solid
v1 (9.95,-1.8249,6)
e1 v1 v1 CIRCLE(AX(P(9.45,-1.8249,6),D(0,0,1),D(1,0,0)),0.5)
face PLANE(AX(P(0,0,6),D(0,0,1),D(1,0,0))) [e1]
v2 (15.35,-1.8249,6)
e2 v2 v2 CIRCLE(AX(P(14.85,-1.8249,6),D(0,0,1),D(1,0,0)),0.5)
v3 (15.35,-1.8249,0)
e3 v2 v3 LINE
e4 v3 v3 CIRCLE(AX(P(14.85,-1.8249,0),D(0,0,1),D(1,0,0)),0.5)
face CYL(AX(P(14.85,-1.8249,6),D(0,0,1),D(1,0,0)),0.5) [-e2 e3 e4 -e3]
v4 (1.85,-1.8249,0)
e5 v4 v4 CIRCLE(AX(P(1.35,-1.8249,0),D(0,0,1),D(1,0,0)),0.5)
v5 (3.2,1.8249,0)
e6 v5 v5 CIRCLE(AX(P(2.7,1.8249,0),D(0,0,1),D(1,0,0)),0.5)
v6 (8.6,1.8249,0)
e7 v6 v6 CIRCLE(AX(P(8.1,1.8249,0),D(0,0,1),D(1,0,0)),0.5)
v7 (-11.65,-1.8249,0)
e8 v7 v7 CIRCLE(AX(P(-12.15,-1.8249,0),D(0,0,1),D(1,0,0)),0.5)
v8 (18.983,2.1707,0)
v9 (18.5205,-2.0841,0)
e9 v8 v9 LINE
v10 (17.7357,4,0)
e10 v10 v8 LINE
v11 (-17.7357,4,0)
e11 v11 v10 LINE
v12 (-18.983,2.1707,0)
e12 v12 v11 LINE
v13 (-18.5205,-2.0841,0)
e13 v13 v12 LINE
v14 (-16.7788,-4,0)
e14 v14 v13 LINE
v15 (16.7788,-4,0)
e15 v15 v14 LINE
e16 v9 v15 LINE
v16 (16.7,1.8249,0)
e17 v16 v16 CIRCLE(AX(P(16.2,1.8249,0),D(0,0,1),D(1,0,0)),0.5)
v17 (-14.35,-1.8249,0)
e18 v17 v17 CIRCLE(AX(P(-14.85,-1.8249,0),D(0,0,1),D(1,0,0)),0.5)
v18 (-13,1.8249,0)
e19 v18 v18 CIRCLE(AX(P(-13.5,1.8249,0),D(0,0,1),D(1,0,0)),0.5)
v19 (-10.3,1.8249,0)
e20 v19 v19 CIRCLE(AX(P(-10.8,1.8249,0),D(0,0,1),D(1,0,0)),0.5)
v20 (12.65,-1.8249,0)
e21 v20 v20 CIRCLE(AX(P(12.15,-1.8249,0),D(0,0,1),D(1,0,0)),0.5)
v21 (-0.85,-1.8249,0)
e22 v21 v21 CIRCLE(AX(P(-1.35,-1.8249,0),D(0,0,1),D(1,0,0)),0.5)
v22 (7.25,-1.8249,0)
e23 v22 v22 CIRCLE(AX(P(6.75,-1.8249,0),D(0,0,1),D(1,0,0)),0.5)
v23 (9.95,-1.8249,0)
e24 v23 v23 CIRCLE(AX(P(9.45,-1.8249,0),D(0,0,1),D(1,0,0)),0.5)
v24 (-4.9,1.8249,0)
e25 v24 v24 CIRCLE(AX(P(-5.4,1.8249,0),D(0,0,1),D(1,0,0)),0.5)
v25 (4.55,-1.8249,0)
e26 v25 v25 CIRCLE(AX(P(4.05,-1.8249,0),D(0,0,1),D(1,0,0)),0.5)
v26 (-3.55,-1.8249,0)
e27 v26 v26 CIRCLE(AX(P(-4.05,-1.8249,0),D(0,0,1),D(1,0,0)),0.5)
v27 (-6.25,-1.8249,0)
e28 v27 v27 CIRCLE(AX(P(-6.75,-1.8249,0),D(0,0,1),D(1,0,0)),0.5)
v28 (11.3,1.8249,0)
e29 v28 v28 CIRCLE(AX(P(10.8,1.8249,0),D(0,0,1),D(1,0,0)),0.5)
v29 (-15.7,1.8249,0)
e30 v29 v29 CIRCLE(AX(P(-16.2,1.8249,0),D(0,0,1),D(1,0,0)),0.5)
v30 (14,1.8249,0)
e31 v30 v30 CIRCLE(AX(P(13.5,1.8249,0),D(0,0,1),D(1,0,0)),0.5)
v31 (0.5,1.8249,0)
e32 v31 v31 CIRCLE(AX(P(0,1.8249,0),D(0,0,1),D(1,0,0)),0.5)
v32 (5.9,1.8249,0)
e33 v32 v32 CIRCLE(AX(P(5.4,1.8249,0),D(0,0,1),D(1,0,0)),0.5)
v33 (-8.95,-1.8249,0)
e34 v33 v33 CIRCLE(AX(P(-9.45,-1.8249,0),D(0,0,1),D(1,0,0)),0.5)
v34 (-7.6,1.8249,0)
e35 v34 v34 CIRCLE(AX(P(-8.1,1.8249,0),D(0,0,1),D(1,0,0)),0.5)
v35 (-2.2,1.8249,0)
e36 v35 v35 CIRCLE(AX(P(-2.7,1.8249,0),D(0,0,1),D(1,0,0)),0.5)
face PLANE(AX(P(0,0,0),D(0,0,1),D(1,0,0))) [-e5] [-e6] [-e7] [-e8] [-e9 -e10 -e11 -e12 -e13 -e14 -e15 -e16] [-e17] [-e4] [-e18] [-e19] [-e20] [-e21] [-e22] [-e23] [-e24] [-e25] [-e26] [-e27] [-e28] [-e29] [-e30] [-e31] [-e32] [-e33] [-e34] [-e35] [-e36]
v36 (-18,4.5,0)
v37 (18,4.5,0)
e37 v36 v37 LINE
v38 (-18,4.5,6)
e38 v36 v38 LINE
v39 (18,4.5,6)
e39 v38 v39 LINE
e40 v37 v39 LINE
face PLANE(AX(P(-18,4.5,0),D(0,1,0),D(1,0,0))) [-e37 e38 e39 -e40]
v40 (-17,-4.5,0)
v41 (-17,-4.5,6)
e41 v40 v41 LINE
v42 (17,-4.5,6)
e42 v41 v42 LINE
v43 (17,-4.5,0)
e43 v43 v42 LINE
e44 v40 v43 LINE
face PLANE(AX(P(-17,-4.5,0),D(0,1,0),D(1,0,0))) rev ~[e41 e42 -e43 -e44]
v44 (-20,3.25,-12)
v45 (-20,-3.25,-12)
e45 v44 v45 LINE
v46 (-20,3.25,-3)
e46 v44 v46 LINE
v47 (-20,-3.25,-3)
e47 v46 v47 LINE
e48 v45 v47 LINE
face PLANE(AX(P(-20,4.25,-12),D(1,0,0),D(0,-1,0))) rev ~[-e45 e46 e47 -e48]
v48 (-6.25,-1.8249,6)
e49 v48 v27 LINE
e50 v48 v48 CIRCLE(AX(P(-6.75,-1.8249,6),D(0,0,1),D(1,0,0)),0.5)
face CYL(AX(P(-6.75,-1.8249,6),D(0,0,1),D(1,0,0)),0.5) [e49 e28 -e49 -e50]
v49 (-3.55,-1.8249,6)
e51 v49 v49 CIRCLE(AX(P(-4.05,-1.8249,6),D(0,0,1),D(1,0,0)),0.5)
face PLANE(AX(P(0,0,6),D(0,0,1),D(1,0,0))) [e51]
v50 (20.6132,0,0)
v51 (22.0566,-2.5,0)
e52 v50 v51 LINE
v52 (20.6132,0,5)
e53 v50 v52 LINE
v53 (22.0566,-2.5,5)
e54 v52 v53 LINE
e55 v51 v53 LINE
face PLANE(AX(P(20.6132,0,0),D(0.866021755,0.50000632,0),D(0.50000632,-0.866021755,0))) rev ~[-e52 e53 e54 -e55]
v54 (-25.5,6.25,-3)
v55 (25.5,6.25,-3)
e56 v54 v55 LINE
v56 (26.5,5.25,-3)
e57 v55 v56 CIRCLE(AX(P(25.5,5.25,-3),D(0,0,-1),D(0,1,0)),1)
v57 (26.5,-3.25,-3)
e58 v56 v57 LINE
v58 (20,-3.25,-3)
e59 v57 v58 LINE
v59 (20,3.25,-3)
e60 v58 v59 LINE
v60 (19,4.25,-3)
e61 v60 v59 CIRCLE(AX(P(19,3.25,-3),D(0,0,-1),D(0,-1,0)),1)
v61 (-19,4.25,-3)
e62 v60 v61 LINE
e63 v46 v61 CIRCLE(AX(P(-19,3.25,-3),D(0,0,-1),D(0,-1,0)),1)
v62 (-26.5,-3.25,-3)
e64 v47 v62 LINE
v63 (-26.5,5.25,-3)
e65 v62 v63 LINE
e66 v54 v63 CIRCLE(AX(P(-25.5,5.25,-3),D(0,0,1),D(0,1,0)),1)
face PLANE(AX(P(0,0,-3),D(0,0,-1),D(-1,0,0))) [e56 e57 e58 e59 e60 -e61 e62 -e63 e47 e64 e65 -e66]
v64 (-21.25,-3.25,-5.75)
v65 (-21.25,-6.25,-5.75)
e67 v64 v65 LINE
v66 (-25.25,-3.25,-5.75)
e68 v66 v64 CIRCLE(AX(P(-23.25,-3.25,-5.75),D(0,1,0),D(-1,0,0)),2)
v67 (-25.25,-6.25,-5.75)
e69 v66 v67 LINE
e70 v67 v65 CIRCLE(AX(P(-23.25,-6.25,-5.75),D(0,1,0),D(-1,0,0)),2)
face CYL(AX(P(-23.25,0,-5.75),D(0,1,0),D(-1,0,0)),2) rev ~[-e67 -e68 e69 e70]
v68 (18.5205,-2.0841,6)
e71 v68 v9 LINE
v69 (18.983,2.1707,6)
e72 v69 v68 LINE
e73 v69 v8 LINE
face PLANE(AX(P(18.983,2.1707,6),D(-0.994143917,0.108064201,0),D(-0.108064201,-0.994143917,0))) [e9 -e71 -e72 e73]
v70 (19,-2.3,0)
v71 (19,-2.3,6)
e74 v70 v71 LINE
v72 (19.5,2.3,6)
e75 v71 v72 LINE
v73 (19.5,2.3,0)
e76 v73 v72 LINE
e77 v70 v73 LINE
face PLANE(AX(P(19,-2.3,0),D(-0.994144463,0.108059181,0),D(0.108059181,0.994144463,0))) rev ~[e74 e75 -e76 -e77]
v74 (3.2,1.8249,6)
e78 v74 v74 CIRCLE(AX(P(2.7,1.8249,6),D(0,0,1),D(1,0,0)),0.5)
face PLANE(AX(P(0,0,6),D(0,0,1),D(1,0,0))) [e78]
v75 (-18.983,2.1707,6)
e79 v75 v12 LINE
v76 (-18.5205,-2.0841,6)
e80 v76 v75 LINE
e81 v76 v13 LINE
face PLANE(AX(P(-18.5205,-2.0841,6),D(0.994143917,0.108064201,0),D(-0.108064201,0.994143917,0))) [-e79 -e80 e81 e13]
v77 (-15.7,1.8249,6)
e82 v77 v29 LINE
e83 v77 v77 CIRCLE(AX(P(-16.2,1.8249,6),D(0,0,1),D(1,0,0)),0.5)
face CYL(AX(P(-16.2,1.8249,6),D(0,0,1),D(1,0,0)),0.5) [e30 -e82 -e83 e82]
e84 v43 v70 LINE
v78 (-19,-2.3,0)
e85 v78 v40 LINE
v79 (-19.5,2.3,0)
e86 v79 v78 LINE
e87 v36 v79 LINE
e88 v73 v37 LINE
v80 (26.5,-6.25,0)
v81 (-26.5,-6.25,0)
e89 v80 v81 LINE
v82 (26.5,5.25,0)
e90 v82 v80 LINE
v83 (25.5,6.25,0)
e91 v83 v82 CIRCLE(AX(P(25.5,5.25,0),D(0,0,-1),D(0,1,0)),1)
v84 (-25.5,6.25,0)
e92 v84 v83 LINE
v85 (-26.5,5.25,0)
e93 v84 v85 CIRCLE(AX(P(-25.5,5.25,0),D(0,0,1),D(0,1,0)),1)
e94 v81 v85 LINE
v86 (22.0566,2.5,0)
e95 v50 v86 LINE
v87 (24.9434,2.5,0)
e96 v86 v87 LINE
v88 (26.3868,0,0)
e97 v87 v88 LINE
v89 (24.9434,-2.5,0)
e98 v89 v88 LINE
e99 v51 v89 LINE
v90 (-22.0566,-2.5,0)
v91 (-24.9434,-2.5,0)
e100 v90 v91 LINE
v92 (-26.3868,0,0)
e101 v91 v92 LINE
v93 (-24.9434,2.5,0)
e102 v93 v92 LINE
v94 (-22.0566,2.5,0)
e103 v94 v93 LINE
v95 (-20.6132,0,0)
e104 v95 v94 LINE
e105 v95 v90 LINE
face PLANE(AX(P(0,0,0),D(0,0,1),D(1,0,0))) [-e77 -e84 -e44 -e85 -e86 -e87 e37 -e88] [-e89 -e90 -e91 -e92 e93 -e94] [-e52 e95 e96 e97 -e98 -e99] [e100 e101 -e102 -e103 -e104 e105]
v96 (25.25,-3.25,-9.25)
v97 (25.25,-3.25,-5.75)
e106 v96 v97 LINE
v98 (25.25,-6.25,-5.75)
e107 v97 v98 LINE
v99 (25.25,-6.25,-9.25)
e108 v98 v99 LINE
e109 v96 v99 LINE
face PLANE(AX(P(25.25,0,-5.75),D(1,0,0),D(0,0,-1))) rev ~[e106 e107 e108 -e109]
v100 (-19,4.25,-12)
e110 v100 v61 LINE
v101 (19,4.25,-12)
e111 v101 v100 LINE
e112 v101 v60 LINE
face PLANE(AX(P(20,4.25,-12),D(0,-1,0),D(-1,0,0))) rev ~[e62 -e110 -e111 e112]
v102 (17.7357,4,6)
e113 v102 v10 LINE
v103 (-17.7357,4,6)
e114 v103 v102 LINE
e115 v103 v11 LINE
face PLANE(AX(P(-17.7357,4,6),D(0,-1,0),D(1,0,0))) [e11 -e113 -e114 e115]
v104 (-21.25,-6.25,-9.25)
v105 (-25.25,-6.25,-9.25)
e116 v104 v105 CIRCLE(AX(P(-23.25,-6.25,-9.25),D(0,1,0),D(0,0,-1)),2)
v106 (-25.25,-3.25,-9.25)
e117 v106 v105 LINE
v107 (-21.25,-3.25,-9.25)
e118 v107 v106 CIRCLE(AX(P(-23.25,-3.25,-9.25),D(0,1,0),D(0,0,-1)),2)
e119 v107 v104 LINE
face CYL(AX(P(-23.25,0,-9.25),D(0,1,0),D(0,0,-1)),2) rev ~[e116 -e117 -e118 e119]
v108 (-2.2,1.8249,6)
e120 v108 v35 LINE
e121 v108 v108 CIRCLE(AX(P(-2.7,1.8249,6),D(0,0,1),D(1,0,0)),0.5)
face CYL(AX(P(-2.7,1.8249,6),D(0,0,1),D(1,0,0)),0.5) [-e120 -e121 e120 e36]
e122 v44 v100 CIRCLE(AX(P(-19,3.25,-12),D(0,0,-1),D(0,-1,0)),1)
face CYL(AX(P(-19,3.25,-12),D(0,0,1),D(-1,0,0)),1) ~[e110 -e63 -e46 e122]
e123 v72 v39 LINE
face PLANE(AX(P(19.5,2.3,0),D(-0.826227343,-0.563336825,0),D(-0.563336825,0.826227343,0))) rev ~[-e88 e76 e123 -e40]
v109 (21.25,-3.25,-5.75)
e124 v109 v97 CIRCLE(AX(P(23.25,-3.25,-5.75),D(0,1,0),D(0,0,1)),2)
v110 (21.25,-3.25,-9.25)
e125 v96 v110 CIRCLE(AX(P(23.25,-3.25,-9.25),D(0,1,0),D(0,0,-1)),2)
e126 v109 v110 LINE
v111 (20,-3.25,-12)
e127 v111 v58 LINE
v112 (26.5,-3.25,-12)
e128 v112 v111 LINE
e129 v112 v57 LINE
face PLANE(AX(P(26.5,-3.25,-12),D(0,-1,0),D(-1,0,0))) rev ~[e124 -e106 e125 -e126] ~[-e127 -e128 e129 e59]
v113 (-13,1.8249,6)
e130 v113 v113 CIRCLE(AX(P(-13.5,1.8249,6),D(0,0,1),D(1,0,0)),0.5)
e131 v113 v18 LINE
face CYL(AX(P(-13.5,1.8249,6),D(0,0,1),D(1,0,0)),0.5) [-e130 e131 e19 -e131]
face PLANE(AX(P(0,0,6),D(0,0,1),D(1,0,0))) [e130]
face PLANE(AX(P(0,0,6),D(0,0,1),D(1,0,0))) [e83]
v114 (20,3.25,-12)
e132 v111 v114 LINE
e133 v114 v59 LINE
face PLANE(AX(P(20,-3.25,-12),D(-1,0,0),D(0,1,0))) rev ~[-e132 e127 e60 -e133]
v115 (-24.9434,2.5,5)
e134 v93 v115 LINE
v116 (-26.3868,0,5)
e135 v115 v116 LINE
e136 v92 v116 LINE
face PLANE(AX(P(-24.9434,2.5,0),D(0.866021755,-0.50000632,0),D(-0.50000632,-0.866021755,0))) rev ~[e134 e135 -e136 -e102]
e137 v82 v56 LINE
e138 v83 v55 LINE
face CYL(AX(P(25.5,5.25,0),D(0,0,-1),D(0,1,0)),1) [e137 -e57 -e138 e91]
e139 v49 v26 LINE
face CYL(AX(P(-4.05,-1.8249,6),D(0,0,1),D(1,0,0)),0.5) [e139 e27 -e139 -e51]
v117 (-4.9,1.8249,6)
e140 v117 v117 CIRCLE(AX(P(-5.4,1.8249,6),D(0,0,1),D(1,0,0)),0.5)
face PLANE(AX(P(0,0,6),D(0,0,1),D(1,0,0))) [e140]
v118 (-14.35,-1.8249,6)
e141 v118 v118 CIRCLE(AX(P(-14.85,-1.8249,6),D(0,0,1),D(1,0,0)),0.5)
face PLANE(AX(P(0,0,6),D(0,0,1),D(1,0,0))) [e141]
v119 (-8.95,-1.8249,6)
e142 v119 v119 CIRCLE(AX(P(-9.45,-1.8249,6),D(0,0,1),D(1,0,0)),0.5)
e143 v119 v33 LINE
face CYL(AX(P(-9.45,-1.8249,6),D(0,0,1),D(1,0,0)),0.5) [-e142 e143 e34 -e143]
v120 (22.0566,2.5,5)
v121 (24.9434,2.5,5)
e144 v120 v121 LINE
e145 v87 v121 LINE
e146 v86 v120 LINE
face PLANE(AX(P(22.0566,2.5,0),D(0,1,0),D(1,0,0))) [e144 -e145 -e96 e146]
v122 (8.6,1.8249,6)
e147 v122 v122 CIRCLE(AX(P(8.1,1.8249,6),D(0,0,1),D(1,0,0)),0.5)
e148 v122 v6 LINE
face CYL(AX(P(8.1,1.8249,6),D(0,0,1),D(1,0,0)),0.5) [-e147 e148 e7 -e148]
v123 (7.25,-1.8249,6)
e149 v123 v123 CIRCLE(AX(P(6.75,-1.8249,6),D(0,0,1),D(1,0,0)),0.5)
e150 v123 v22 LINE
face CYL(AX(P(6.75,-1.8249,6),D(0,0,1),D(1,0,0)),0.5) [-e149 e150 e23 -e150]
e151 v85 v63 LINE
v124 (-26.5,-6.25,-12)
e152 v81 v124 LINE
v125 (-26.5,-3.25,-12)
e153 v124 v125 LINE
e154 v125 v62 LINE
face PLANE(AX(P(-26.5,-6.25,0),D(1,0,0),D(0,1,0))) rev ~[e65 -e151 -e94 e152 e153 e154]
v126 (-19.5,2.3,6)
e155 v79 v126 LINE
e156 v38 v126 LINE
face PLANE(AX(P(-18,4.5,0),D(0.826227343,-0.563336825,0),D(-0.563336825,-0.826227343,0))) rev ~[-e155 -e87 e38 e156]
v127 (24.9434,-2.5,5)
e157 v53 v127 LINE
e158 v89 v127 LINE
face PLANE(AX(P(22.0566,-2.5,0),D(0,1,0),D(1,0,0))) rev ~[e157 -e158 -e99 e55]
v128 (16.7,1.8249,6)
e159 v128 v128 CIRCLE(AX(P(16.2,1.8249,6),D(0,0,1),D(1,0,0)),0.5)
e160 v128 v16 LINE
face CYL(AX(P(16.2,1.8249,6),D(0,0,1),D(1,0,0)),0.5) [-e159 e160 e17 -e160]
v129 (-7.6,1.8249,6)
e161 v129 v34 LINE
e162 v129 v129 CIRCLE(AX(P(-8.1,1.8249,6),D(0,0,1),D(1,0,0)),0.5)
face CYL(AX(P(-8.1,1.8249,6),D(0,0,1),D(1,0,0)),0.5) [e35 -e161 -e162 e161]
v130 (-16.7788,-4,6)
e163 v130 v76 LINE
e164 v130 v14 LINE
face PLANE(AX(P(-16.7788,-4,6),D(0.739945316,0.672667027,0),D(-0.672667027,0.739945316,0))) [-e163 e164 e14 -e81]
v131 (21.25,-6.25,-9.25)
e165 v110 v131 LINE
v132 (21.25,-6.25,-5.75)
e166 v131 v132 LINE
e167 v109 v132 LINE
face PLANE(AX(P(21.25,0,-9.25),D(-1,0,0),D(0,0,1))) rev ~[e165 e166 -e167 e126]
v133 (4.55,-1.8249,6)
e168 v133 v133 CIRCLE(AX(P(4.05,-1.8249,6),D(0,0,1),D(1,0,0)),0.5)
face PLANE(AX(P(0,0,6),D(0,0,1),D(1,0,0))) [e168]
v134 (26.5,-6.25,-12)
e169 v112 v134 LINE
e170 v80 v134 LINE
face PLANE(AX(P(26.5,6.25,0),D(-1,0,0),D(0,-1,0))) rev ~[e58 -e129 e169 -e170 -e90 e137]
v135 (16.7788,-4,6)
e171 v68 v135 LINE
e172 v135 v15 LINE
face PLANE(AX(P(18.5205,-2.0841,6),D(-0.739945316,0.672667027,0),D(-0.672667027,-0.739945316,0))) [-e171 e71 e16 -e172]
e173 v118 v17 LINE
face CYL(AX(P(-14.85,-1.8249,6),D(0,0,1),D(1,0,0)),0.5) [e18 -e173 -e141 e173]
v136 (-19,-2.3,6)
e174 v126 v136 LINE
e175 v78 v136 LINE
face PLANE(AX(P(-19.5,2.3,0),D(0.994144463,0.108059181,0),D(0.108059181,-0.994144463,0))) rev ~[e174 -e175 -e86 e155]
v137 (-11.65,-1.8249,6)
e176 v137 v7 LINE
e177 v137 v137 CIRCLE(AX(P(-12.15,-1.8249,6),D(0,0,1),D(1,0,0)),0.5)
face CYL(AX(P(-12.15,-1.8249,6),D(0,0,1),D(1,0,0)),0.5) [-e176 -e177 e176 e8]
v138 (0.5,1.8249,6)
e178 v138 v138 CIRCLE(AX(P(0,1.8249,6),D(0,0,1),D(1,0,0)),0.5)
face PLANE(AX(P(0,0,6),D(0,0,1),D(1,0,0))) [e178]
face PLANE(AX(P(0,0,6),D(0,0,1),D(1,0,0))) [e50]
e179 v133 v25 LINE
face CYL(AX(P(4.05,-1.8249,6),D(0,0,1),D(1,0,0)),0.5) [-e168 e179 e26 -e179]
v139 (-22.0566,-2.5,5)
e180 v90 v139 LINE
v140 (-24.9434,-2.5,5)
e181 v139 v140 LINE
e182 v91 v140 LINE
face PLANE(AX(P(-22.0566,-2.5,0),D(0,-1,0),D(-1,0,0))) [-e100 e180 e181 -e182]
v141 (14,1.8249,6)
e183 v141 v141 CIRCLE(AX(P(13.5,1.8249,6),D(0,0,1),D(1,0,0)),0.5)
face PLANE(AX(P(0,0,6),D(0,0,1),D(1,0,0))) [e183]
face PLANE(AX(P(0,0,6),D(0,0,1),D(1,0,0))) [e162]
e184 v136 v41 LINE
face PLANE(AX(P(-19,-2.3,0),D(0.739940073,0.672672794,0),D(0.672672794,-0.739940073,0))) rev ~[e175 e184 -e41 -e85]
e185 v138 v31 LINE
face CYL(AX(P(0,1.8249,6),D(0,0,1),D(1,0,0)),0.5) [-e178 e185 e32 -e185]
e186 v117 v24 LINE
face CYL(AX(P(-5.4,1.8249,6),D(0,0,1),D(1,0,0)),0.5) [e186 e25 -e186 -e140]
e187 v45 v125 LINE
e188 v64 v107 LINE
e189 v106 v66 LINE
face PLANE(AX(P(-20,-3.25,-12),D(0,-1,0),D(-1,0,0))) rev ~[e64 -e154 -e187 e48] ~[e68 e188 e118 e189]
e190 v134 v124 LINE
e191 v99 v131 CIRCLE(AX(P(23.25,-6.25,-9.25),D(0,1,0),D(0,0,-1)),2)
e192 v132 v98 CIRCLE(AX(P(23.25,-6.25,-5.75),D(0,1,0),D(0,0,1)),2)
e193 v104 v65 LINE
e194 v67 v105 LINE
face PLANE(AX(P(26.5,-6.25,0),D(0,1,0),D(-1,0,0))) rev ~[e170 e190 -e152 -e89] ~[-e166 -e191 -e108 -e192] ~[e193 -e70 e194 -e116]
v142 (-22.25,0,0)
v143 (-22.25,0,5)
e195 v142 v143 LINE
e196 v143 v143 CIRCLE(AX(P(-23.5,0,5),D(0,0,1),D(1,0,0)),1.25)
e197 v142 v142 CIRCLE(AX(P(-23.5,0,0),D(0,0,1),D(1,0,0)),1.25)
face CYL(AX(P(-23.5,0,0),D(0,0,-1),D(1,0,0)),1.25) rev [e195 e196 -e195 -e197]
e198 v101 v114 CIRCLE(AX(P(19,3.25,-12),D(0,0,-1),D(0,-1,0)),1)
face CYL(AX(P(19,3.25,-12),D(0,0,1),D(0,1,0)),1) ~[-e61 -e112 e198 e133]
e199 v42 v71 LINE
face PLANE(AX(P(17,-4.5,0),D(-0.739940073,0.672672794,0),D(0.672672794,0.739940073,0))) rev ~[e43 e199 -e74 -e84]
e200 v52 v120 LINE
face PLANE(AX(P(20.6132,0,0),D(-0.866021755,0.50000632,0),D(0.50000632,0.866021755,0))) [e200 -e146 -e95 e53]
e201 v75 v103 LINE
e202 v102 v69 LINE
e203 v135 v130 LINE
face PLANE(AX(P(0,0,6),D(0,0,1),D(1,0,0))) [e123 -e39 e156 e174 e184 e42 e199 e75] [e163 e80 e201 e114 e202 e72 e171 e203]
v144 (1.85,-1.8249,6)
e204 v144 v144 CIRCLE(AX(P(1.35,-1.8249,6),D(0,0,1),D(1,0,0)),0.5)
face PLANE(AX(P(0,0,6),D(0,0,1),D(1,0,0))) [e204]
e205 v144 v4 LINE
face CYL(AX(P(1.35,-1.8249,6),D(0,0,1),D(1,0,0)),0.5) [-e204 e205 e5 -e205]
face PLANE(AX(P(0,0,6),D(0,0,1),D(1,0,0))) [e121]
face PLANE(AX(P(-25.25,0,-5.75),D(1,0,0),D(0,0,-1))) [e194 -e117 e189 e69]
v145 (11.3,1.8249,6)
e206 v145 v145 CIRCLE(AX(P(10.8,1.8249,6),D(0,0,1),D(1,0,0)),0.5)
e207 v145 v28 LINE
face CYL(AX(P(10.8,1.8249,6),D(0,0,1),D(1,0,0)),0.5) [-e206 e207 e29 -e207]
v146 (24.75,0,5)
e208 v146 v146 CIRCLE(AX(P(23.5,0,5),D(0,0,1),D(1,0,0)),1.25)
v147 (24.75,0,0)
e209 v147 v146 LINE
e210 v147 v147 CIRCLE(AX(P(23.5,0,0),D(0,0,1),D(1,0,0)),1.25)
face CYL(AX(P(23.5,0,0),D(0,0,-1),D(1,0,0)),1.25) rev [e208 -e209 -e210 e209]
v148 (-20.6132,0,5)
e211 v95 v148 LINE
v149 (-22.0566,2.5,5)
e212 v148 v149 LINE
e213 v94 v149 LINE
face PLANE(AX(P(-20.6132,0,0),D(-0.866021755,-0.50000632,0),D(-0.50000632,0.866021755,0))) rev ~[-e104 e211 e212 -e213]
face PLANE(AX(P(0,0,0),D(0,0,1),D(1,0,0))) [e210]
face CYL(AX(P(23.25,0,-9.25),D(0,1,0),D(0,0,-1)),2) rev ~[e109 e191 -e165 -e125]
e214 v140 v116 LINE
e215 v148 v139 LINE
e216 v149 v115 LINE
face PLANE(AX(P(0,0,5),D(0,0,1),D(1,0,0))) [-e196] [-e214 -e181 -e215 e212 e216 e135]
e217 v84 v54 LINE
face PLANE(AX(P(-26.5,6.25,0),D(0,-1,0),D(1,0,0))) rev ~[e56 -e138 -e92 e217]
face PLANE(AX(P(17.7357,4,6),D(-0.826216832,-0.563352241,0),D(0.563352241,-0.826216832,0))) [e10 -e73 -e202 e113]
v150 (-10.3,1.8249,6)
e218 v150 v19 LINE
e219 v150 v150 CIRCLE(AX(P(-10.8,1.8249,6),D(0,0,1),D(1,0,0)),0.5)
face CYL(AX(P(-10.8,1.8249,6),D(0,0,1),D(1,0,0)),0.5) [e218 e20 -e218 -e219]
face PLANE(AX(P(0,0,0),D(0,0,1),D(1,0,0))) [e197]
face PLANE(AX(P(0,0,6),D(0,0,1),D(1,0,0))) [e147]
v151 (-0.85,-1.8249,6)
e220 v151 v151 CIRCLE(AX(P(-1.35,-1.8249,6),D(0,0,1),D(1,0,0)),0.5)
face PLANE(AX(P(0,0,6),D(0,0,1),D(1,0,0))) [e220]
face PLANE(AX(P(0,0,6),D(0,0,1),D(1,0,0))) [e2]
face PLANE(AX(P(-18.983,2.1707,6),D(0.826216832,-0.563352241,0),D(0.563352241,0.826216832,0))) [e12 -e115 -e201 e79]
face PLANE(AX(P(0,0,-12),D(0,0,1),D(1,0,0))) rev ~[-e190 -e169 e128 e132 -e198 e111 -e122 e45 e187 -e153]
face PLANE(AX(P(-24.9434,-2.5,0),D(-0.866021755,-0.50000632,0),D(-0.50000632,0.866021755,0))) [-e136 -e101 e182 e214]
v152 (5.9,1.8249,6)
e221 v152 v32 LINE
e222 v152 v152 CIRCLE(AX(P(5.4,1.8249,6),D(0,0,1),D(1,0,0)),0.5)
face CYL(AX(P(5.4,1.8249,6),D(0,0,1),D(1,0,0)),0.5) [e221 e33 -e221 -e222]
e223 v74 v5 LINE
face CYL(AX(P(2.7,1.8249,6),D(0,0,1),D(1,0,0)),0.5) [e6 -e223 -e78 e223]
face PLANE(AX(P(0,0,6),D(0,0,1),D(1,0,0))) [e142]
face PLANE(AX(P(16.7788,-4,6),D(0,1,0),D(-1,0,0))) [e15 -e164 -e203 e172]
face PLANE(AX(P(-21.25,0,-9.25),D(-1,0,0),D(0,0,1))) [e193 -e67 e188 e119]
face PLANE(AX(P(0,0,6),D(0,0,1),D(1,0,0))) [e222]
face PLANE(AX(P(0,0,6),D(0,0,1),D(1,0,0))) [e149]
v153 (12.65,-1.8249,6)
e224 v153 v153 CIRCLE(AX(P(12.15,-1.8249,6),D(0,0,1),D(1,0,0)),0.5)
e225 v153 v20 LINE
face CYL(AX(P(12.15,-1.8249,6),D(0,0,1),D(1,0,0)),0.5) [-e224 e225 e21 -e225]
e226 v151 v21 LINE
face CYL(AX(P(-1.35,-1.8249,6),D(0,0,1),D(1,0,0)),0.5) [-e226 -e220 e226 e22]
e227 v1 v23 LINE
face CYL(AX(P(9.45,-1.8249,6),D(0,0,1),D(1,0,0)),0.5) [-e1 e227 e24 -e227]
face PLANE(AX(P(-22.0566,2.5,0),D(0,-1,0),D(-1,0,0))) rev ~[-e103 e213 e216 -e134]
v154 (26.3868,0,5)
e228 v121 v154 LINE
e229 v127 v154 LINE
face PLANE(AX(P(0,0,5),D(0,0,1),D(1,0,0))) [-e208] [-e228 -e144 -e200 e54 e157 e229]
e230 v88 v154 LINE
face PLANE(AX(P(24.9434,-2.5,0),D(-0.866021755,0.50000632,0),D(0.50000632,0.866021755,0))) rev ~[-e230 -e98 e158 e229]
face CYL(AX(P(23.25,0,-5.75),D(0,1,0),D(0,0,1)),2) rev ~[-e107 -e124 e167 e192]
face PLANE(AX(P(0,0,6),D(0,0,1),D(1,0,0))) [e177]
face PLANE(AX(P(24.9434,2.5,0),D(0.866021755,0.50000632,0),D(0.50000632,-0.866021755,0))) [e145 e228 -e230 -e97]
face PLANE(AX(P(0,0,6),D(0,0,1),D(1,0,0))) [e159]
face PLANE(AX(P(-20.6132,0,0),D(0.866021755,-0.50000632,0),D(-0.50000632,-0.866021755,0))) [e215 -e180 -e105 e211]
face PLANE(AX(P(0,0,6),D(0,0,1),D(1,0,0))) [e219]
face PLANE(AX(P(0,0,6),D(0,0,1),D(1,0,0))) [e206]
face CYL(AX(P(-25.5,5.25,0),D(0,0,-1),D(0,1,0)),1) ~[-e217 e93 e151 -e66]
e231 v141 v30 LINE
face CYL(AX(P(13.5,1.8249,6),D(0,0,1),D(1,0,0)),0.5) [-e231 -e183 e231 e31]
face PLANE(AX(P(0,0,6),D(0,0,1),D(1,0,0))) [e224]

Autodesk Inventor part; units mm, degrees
ref_plane "YZ Plane" through (0, 0, 0) normal (1, 0, 0) x (0, 1, 0)
ref_plane "XZ Plane" through (0, 0, 0) normal (0, 1, 0) x (-1, 0, 0)
ref_plane "XY Plane" through (0, 0, 0) normal (0, 0, 1) x (1, 0, 0)
sketch "Sketch1" plane through (0, 0, 0) normal (0, 0, 1) x (1, 0, 0)
  line L0 (-26.5, 6.25) -> (26.5, 6.25)
  line L1 (26.5, 6.25) -> (26.5, -6.25)
  line L2 (26.5, -6.25) -> (-26.5, -6.25)
  line L3 (-26.5, -6.25) -> (-26.5, 6.25)
  line L4 (-26.5, 6.25) -> (26.5, -6.25) construction
  line L5 (26.5, 6.25) -> (-26.5, -6.25) construction
  line L6 (-26.5, 0) -> (26.5, 0) construction
  circle A0 centre (-23.5, 0) radius 1.25
  circle A1 centre (-23.5, 0) radius 2.8868 construction
  line L7 (-22.0566, -2.5) -> (-24.9434, 2.5) construction
  line L8 (-26.3868, 0) -> (-20.6132, 0) construction
  line L9 (-22.0566, 2.5) -> (-24.9434, -2.5) construction
  line L10 (-22.0566, 2.5) -> (-24.9434, 2.5)
  line L11 (-24.9434, 2.5) -> (-26.3868, 0)
  line L12 (-24.9434, -2.5) -> (-26.3868, 0)
  line L13 (-22.0566, -2.5) -> (-24.9434, -2.5)
  line L14 (-20.6132, 0) -> (-22.0566, 2.5)
  line L15 (-20.6132, 0) -> (-22.0566, -2.5)
  line L16 (0, 6.25) -> (0, -6.25) construction
  circle A2 centre (23.5, 0) radius 1.25
  line L17 (22.0566, 2.5) -> (24.9434, 2.5)
  line L18 (24.9434, 2.5) -> (26.3868, 0)
  line L19 (24.9434, -2.5) -> (26.3868, 0)
  line L20 (22.0566, -2.5) -> (24.9434, -2.5)
  line L21 (20.6132, 0) -> (22.0566, 2.5)
  line L22 (20.6132, 0) -> (22.0566, -2.5)
  line L23 (-18, 4.5) -> (18, 4.5)
  line L24 (-18, 4.5) -> (-19.5, 2.3)
  line L25 (-19.5, 2.3) -> (-19, -2.3)
  line L26 (-19, -2.3) -> (-17, -4.5)
  line L27 (-17, -4.5) -> (17, -4.5)
  line L28 (17, -4.5) -> (19, -2.3)
  line L29 (19, -2.3) -> (19.5, 2.3)
  line L30 (19.5, 2.3) -> (18, 4.5)
  point P0 (0, 0)
  point P1 (0, 4.5)
  point P2 (0, -4.5)
  dimension "d0" = 53
  dimension "d1" = 12.5
  dimension "d2" = 2.5
  dimension "d4" = 60
  dimension "d5" = 60
  dimension "d6" = 5
  dimension "d7" = 47
  dimension "d8" = 39
  dimension "d9" = 34
  dimension "d10" = 36
  dimension "d11" = 38
  dimension "d12" = 9
  dimension "d13" = 2.2
  dimension "d14" = 2.2
extrude "Extrusion1" add sketch "Sketch1" along normal blind 5 contours L14 L15 L13 L12 L11 L10 | L17 L18 L19 L20 L22 L21
extrude "Extrusion2" add sketch "Sketch1" along normal blind 6 contours L23 L30 L29 L28 L27 L26 L25 L24
extrude "Extrusion3" add sketch "Sketch1" against normal blind 12 contours L0 L1 L2 L3 | A0 | L14 L15 L13 L12 L11 L10 | A2 | L17 L18 L19 L20 L22 L21 | L23 L30 L29 L28 L27 L26 L25 L24
sketch "Sketch2" plane through (0, 0, -12) normal (0, 0, -1) x (-1, 0, 0)
  line L0 (26.5, 6.25) -> (-26.5, 6.25) projected
  line L1 (-26.5, 6.25) -> (-26.5, -6.25) projected
  line L2 (-26.5, -6.25) -> (26.5, -6.25) projected
  line L3 (26.5, -6.25) -> (26.5, 6.25) projected
  line L4 (-26.5, 6.25) -> (-26.5, -6.25) projected
  line L5 (-26.5, -3.25) -> (-20, -3.25)
  line L6 (-20, -3.25) -> (-20, 4.25)
  line L7 (-20, 4.25) -> (20, 4.25)
  line L8 (20, 4.25) -> (20, -3.25)
  line L9 (20, -3.25) -> (26.5, -3.25)
  line L10 (0, 6.25) -> (0, -6.25) construction
  line L11 (-26.5, -3.25) -> (-26.5, 6.25)
  line L12 (26.5, 6.25) -> (-26.5, 6.25) projected
  line L13 (-26.5, 6.25) -> (26.5, 6.25)
  line L14 (26.5, 6.25) -> (26.5, -3.25)
  point P0 (0, 0)
  dimension "d21" = 40
  dimension "d22" = 2
  dimension "d23" = 3
extrude "Extrusion4" cut sketch "Sketch2" against normal blind 9 contours L3 L9 L8 L7 L6 L5 L1 L0
sketch "Sketch3" plane through (0, 0, 0) normal (0, 1, 0) x (-1, 0, 0)
  line L0 (26.5, -3) -> (26.5, -12) projected
  line L1 (26.5, -12) -> (20, -12) projected
  line L2 (20, -12) -> (20, -3) projected
  arc A0 (23.25, -3.75) -> (21.25, -5.75) centre (23.25, -5.75) ccw
  arc A1 (23.25, -11.25) -> (25.25, -9.25) centre (23.25, -9.25) ccw
  line L3 (23.25, -3.75) -> (23.25, -11.25) construction
  line L4 (25.25, -5.75) -> (25.25, -9.25)
  line L5 (21.25, -9.25) -> (21.25, -5.75)
  line L6 (25.25, -7.5) -> (21.25, -7.5) construction
  line L7 (26.5, -3) -> (20, -3) projected
  arc A2 (21.25, -9.25) -> (23.25, -11.25) centre (23.25, -9.25) ccw
  arc A3 (25.25, -9.25) -> (21.25, -9.25) centre (23.25, -9.25) ccw construction
  arc A4 (25.25, -5.75) -> (23.25, -3.75) centre (23.25, -5.75) ccw
  arc A5 (21.25, -5.75) -> (25.25, -5.75) centre (23.25, -5.75) ccw construction
  line L8 (0, 0) -> (0, -12) construction
  arc A6 (-21.25, -5.75) -> (-23.25, -3.75) centre (-23.25, -5.75) ccw
  arc A7 (-25.25, -9.25) -> (-23.25, -11.25) centre (-23.25, -9.25) ccw
  line L9 (-25.25, -5.75) -> (-25.25, -9.25)
  line L10 (-21.25, -9.25) -> (-21.25, -5.75)
  arc A8 (-23.25, -11.25) -> (-21.25, -9.25) centre (-23.25, -9.25) ccw
  arc A9 (-23.25, -3.75) -> (-25.25, -5.75) centre (-23.25, -5.75) ccw
  dimension "d26" = 4
  dimension "d27" = 7.5
  dimension "d28" = 9
  dimension "d29" = 4.5
  dimension "d30" = 6.5
  dimension "d31" = 3.25
extrude "Extrusion5" cut sketch "Sketch3" against normal through all contours A4 L4 A1 A2 L5 A0 | L10 A8 A7 L9 A9 A6
sketch "Sketch4" plane through (0, 0, 6) normal (0, 0, 1) x (1, 0, 0)
  line L0 (-16.2, 1.8249) -> (16.2, 1.8249) construction
  circle A0 centre (-16.2, 1.8249) radius 0.5
  circle A1 centre (-13.5, 1.8249) radius 0.5
  circle A2 centre (-10.8, 1.8249) radius 0.5
  circle A3 centre (-8.1, 1.8249) radius 0.5
  circle A4 centre (-5.4, 1.8249) radius 0.5
  circle A5 centre (-2.7, 1.8249) radius 0.5
  circle A6 centre (0, 1.8249) radius 0.5
  circle A7 centre (2.7, 1.8249) radius 0.5
  circle A8 centre (5.4, 1.8249) radius 0.5
  circle A9 centre (8.1, 1.8249) radius 0.5
  circle A10 centre (10.8, 1.8249) radius 0.5
  circle A11 centre (13.5, 1.8249) radius 0.5
  circle A12 centre (16.2, 1.8249) radius 0.5
  line L1 (-14.85, -1.8249) -> (14.85, -1.8249) construction
  circle A13 centre (-14.85, -1.8249) radius 0.5
  circle A14 centre (-12.15, -1.8249) radius 0.5
  circle A15 centre (-9.45, -1.8249) radius 0.5
  circle A16 centre (-6.75, -1.8249) radius 0.5
  circle A17 centre (-4.05, -1.8249) radius 0.5
  circle A18 centre (-1.35, -1.8249) radius 0.5
  circle A19 centre (1.35, -1.8249) radius 0.5
  circle A20 centre (4.05, -1.8249) radius 0.5
  circle A21 centre (6.75, -1.8249) radius 0.5
  circle A22 centre (9.45, -1.8249) radius 0.5
  circle A23 centre (12.15, -1.8249) radius 0.5
  circle A24 centre (14.85, -1.8249) radius 0.5
  line L2 (0, 1.8249) -> (0, -1.8249) construction
  line L3 (18, 4.5) -> (-18, 4.5) construction
  line L4 (-18, 4.5) -> (-19.5, 2.3) construction
  line L5 (-19.5, 2.3) -> (-19, -2.3) construction
  line L6 (-19, -2.3) -> (-17, -4.5) construction
  line L7 (-17, -4.5) -> (17, -4.5) construction
  line L8 (17, -4.5) -> (19, -2.3) construction
  line L9 (19, -2.3) -> (19.5, 2.3) construction
  line L10 (19.5, 2.3) -> (18, 4.5) construction
  line L11 (-17.7357, 4) -> (17.7357, 4)
  line L12 (17.7357, 4) -> (18.983, 2.1707)
  line L13 (18.983, 2.1707) -> (18.5205, -2.0841)
  line L14 (18.5205, -2.0841) -> (16.7788, -4)
  line L15 (16.7788, -4) -> (-16.7788, -4)
  line L16 (-16.7788, -4) -> (-18.5205, -2.0841)
  line L17 (-18.5205, -2.0841) -> (-18.983, 2.1707)
  line L18 (-18.983, 2.1707) -> (-17.7357, 4)
  point P0 (0, 0)
  point P1 (0, 0)
  dimension "d34" = 1
  dimension "d37" = 2.7
  dimension "d44" = 2.7
  dimension "d49" = 0.5
extrude "Extrusion6" cut sketch "Sketch4" against normal up to surface (6 mm away)
fillet "Fillet1" radius 1 4 edges at (-26.5, 6.25, -1.5) (26.5, 6.25, -1.5) (20, 4.25, -7.5) (-20, 4.25, -7.5)
equation "\"d5\" = d4"
equation "\"d14\" = d13"
equation "\"d29\" = 0.5 * d28"
equation "\"d31\" = 0.5 * d30"
equation "\"d44\" = d37"
properties part number "db25-connector-pcb"
